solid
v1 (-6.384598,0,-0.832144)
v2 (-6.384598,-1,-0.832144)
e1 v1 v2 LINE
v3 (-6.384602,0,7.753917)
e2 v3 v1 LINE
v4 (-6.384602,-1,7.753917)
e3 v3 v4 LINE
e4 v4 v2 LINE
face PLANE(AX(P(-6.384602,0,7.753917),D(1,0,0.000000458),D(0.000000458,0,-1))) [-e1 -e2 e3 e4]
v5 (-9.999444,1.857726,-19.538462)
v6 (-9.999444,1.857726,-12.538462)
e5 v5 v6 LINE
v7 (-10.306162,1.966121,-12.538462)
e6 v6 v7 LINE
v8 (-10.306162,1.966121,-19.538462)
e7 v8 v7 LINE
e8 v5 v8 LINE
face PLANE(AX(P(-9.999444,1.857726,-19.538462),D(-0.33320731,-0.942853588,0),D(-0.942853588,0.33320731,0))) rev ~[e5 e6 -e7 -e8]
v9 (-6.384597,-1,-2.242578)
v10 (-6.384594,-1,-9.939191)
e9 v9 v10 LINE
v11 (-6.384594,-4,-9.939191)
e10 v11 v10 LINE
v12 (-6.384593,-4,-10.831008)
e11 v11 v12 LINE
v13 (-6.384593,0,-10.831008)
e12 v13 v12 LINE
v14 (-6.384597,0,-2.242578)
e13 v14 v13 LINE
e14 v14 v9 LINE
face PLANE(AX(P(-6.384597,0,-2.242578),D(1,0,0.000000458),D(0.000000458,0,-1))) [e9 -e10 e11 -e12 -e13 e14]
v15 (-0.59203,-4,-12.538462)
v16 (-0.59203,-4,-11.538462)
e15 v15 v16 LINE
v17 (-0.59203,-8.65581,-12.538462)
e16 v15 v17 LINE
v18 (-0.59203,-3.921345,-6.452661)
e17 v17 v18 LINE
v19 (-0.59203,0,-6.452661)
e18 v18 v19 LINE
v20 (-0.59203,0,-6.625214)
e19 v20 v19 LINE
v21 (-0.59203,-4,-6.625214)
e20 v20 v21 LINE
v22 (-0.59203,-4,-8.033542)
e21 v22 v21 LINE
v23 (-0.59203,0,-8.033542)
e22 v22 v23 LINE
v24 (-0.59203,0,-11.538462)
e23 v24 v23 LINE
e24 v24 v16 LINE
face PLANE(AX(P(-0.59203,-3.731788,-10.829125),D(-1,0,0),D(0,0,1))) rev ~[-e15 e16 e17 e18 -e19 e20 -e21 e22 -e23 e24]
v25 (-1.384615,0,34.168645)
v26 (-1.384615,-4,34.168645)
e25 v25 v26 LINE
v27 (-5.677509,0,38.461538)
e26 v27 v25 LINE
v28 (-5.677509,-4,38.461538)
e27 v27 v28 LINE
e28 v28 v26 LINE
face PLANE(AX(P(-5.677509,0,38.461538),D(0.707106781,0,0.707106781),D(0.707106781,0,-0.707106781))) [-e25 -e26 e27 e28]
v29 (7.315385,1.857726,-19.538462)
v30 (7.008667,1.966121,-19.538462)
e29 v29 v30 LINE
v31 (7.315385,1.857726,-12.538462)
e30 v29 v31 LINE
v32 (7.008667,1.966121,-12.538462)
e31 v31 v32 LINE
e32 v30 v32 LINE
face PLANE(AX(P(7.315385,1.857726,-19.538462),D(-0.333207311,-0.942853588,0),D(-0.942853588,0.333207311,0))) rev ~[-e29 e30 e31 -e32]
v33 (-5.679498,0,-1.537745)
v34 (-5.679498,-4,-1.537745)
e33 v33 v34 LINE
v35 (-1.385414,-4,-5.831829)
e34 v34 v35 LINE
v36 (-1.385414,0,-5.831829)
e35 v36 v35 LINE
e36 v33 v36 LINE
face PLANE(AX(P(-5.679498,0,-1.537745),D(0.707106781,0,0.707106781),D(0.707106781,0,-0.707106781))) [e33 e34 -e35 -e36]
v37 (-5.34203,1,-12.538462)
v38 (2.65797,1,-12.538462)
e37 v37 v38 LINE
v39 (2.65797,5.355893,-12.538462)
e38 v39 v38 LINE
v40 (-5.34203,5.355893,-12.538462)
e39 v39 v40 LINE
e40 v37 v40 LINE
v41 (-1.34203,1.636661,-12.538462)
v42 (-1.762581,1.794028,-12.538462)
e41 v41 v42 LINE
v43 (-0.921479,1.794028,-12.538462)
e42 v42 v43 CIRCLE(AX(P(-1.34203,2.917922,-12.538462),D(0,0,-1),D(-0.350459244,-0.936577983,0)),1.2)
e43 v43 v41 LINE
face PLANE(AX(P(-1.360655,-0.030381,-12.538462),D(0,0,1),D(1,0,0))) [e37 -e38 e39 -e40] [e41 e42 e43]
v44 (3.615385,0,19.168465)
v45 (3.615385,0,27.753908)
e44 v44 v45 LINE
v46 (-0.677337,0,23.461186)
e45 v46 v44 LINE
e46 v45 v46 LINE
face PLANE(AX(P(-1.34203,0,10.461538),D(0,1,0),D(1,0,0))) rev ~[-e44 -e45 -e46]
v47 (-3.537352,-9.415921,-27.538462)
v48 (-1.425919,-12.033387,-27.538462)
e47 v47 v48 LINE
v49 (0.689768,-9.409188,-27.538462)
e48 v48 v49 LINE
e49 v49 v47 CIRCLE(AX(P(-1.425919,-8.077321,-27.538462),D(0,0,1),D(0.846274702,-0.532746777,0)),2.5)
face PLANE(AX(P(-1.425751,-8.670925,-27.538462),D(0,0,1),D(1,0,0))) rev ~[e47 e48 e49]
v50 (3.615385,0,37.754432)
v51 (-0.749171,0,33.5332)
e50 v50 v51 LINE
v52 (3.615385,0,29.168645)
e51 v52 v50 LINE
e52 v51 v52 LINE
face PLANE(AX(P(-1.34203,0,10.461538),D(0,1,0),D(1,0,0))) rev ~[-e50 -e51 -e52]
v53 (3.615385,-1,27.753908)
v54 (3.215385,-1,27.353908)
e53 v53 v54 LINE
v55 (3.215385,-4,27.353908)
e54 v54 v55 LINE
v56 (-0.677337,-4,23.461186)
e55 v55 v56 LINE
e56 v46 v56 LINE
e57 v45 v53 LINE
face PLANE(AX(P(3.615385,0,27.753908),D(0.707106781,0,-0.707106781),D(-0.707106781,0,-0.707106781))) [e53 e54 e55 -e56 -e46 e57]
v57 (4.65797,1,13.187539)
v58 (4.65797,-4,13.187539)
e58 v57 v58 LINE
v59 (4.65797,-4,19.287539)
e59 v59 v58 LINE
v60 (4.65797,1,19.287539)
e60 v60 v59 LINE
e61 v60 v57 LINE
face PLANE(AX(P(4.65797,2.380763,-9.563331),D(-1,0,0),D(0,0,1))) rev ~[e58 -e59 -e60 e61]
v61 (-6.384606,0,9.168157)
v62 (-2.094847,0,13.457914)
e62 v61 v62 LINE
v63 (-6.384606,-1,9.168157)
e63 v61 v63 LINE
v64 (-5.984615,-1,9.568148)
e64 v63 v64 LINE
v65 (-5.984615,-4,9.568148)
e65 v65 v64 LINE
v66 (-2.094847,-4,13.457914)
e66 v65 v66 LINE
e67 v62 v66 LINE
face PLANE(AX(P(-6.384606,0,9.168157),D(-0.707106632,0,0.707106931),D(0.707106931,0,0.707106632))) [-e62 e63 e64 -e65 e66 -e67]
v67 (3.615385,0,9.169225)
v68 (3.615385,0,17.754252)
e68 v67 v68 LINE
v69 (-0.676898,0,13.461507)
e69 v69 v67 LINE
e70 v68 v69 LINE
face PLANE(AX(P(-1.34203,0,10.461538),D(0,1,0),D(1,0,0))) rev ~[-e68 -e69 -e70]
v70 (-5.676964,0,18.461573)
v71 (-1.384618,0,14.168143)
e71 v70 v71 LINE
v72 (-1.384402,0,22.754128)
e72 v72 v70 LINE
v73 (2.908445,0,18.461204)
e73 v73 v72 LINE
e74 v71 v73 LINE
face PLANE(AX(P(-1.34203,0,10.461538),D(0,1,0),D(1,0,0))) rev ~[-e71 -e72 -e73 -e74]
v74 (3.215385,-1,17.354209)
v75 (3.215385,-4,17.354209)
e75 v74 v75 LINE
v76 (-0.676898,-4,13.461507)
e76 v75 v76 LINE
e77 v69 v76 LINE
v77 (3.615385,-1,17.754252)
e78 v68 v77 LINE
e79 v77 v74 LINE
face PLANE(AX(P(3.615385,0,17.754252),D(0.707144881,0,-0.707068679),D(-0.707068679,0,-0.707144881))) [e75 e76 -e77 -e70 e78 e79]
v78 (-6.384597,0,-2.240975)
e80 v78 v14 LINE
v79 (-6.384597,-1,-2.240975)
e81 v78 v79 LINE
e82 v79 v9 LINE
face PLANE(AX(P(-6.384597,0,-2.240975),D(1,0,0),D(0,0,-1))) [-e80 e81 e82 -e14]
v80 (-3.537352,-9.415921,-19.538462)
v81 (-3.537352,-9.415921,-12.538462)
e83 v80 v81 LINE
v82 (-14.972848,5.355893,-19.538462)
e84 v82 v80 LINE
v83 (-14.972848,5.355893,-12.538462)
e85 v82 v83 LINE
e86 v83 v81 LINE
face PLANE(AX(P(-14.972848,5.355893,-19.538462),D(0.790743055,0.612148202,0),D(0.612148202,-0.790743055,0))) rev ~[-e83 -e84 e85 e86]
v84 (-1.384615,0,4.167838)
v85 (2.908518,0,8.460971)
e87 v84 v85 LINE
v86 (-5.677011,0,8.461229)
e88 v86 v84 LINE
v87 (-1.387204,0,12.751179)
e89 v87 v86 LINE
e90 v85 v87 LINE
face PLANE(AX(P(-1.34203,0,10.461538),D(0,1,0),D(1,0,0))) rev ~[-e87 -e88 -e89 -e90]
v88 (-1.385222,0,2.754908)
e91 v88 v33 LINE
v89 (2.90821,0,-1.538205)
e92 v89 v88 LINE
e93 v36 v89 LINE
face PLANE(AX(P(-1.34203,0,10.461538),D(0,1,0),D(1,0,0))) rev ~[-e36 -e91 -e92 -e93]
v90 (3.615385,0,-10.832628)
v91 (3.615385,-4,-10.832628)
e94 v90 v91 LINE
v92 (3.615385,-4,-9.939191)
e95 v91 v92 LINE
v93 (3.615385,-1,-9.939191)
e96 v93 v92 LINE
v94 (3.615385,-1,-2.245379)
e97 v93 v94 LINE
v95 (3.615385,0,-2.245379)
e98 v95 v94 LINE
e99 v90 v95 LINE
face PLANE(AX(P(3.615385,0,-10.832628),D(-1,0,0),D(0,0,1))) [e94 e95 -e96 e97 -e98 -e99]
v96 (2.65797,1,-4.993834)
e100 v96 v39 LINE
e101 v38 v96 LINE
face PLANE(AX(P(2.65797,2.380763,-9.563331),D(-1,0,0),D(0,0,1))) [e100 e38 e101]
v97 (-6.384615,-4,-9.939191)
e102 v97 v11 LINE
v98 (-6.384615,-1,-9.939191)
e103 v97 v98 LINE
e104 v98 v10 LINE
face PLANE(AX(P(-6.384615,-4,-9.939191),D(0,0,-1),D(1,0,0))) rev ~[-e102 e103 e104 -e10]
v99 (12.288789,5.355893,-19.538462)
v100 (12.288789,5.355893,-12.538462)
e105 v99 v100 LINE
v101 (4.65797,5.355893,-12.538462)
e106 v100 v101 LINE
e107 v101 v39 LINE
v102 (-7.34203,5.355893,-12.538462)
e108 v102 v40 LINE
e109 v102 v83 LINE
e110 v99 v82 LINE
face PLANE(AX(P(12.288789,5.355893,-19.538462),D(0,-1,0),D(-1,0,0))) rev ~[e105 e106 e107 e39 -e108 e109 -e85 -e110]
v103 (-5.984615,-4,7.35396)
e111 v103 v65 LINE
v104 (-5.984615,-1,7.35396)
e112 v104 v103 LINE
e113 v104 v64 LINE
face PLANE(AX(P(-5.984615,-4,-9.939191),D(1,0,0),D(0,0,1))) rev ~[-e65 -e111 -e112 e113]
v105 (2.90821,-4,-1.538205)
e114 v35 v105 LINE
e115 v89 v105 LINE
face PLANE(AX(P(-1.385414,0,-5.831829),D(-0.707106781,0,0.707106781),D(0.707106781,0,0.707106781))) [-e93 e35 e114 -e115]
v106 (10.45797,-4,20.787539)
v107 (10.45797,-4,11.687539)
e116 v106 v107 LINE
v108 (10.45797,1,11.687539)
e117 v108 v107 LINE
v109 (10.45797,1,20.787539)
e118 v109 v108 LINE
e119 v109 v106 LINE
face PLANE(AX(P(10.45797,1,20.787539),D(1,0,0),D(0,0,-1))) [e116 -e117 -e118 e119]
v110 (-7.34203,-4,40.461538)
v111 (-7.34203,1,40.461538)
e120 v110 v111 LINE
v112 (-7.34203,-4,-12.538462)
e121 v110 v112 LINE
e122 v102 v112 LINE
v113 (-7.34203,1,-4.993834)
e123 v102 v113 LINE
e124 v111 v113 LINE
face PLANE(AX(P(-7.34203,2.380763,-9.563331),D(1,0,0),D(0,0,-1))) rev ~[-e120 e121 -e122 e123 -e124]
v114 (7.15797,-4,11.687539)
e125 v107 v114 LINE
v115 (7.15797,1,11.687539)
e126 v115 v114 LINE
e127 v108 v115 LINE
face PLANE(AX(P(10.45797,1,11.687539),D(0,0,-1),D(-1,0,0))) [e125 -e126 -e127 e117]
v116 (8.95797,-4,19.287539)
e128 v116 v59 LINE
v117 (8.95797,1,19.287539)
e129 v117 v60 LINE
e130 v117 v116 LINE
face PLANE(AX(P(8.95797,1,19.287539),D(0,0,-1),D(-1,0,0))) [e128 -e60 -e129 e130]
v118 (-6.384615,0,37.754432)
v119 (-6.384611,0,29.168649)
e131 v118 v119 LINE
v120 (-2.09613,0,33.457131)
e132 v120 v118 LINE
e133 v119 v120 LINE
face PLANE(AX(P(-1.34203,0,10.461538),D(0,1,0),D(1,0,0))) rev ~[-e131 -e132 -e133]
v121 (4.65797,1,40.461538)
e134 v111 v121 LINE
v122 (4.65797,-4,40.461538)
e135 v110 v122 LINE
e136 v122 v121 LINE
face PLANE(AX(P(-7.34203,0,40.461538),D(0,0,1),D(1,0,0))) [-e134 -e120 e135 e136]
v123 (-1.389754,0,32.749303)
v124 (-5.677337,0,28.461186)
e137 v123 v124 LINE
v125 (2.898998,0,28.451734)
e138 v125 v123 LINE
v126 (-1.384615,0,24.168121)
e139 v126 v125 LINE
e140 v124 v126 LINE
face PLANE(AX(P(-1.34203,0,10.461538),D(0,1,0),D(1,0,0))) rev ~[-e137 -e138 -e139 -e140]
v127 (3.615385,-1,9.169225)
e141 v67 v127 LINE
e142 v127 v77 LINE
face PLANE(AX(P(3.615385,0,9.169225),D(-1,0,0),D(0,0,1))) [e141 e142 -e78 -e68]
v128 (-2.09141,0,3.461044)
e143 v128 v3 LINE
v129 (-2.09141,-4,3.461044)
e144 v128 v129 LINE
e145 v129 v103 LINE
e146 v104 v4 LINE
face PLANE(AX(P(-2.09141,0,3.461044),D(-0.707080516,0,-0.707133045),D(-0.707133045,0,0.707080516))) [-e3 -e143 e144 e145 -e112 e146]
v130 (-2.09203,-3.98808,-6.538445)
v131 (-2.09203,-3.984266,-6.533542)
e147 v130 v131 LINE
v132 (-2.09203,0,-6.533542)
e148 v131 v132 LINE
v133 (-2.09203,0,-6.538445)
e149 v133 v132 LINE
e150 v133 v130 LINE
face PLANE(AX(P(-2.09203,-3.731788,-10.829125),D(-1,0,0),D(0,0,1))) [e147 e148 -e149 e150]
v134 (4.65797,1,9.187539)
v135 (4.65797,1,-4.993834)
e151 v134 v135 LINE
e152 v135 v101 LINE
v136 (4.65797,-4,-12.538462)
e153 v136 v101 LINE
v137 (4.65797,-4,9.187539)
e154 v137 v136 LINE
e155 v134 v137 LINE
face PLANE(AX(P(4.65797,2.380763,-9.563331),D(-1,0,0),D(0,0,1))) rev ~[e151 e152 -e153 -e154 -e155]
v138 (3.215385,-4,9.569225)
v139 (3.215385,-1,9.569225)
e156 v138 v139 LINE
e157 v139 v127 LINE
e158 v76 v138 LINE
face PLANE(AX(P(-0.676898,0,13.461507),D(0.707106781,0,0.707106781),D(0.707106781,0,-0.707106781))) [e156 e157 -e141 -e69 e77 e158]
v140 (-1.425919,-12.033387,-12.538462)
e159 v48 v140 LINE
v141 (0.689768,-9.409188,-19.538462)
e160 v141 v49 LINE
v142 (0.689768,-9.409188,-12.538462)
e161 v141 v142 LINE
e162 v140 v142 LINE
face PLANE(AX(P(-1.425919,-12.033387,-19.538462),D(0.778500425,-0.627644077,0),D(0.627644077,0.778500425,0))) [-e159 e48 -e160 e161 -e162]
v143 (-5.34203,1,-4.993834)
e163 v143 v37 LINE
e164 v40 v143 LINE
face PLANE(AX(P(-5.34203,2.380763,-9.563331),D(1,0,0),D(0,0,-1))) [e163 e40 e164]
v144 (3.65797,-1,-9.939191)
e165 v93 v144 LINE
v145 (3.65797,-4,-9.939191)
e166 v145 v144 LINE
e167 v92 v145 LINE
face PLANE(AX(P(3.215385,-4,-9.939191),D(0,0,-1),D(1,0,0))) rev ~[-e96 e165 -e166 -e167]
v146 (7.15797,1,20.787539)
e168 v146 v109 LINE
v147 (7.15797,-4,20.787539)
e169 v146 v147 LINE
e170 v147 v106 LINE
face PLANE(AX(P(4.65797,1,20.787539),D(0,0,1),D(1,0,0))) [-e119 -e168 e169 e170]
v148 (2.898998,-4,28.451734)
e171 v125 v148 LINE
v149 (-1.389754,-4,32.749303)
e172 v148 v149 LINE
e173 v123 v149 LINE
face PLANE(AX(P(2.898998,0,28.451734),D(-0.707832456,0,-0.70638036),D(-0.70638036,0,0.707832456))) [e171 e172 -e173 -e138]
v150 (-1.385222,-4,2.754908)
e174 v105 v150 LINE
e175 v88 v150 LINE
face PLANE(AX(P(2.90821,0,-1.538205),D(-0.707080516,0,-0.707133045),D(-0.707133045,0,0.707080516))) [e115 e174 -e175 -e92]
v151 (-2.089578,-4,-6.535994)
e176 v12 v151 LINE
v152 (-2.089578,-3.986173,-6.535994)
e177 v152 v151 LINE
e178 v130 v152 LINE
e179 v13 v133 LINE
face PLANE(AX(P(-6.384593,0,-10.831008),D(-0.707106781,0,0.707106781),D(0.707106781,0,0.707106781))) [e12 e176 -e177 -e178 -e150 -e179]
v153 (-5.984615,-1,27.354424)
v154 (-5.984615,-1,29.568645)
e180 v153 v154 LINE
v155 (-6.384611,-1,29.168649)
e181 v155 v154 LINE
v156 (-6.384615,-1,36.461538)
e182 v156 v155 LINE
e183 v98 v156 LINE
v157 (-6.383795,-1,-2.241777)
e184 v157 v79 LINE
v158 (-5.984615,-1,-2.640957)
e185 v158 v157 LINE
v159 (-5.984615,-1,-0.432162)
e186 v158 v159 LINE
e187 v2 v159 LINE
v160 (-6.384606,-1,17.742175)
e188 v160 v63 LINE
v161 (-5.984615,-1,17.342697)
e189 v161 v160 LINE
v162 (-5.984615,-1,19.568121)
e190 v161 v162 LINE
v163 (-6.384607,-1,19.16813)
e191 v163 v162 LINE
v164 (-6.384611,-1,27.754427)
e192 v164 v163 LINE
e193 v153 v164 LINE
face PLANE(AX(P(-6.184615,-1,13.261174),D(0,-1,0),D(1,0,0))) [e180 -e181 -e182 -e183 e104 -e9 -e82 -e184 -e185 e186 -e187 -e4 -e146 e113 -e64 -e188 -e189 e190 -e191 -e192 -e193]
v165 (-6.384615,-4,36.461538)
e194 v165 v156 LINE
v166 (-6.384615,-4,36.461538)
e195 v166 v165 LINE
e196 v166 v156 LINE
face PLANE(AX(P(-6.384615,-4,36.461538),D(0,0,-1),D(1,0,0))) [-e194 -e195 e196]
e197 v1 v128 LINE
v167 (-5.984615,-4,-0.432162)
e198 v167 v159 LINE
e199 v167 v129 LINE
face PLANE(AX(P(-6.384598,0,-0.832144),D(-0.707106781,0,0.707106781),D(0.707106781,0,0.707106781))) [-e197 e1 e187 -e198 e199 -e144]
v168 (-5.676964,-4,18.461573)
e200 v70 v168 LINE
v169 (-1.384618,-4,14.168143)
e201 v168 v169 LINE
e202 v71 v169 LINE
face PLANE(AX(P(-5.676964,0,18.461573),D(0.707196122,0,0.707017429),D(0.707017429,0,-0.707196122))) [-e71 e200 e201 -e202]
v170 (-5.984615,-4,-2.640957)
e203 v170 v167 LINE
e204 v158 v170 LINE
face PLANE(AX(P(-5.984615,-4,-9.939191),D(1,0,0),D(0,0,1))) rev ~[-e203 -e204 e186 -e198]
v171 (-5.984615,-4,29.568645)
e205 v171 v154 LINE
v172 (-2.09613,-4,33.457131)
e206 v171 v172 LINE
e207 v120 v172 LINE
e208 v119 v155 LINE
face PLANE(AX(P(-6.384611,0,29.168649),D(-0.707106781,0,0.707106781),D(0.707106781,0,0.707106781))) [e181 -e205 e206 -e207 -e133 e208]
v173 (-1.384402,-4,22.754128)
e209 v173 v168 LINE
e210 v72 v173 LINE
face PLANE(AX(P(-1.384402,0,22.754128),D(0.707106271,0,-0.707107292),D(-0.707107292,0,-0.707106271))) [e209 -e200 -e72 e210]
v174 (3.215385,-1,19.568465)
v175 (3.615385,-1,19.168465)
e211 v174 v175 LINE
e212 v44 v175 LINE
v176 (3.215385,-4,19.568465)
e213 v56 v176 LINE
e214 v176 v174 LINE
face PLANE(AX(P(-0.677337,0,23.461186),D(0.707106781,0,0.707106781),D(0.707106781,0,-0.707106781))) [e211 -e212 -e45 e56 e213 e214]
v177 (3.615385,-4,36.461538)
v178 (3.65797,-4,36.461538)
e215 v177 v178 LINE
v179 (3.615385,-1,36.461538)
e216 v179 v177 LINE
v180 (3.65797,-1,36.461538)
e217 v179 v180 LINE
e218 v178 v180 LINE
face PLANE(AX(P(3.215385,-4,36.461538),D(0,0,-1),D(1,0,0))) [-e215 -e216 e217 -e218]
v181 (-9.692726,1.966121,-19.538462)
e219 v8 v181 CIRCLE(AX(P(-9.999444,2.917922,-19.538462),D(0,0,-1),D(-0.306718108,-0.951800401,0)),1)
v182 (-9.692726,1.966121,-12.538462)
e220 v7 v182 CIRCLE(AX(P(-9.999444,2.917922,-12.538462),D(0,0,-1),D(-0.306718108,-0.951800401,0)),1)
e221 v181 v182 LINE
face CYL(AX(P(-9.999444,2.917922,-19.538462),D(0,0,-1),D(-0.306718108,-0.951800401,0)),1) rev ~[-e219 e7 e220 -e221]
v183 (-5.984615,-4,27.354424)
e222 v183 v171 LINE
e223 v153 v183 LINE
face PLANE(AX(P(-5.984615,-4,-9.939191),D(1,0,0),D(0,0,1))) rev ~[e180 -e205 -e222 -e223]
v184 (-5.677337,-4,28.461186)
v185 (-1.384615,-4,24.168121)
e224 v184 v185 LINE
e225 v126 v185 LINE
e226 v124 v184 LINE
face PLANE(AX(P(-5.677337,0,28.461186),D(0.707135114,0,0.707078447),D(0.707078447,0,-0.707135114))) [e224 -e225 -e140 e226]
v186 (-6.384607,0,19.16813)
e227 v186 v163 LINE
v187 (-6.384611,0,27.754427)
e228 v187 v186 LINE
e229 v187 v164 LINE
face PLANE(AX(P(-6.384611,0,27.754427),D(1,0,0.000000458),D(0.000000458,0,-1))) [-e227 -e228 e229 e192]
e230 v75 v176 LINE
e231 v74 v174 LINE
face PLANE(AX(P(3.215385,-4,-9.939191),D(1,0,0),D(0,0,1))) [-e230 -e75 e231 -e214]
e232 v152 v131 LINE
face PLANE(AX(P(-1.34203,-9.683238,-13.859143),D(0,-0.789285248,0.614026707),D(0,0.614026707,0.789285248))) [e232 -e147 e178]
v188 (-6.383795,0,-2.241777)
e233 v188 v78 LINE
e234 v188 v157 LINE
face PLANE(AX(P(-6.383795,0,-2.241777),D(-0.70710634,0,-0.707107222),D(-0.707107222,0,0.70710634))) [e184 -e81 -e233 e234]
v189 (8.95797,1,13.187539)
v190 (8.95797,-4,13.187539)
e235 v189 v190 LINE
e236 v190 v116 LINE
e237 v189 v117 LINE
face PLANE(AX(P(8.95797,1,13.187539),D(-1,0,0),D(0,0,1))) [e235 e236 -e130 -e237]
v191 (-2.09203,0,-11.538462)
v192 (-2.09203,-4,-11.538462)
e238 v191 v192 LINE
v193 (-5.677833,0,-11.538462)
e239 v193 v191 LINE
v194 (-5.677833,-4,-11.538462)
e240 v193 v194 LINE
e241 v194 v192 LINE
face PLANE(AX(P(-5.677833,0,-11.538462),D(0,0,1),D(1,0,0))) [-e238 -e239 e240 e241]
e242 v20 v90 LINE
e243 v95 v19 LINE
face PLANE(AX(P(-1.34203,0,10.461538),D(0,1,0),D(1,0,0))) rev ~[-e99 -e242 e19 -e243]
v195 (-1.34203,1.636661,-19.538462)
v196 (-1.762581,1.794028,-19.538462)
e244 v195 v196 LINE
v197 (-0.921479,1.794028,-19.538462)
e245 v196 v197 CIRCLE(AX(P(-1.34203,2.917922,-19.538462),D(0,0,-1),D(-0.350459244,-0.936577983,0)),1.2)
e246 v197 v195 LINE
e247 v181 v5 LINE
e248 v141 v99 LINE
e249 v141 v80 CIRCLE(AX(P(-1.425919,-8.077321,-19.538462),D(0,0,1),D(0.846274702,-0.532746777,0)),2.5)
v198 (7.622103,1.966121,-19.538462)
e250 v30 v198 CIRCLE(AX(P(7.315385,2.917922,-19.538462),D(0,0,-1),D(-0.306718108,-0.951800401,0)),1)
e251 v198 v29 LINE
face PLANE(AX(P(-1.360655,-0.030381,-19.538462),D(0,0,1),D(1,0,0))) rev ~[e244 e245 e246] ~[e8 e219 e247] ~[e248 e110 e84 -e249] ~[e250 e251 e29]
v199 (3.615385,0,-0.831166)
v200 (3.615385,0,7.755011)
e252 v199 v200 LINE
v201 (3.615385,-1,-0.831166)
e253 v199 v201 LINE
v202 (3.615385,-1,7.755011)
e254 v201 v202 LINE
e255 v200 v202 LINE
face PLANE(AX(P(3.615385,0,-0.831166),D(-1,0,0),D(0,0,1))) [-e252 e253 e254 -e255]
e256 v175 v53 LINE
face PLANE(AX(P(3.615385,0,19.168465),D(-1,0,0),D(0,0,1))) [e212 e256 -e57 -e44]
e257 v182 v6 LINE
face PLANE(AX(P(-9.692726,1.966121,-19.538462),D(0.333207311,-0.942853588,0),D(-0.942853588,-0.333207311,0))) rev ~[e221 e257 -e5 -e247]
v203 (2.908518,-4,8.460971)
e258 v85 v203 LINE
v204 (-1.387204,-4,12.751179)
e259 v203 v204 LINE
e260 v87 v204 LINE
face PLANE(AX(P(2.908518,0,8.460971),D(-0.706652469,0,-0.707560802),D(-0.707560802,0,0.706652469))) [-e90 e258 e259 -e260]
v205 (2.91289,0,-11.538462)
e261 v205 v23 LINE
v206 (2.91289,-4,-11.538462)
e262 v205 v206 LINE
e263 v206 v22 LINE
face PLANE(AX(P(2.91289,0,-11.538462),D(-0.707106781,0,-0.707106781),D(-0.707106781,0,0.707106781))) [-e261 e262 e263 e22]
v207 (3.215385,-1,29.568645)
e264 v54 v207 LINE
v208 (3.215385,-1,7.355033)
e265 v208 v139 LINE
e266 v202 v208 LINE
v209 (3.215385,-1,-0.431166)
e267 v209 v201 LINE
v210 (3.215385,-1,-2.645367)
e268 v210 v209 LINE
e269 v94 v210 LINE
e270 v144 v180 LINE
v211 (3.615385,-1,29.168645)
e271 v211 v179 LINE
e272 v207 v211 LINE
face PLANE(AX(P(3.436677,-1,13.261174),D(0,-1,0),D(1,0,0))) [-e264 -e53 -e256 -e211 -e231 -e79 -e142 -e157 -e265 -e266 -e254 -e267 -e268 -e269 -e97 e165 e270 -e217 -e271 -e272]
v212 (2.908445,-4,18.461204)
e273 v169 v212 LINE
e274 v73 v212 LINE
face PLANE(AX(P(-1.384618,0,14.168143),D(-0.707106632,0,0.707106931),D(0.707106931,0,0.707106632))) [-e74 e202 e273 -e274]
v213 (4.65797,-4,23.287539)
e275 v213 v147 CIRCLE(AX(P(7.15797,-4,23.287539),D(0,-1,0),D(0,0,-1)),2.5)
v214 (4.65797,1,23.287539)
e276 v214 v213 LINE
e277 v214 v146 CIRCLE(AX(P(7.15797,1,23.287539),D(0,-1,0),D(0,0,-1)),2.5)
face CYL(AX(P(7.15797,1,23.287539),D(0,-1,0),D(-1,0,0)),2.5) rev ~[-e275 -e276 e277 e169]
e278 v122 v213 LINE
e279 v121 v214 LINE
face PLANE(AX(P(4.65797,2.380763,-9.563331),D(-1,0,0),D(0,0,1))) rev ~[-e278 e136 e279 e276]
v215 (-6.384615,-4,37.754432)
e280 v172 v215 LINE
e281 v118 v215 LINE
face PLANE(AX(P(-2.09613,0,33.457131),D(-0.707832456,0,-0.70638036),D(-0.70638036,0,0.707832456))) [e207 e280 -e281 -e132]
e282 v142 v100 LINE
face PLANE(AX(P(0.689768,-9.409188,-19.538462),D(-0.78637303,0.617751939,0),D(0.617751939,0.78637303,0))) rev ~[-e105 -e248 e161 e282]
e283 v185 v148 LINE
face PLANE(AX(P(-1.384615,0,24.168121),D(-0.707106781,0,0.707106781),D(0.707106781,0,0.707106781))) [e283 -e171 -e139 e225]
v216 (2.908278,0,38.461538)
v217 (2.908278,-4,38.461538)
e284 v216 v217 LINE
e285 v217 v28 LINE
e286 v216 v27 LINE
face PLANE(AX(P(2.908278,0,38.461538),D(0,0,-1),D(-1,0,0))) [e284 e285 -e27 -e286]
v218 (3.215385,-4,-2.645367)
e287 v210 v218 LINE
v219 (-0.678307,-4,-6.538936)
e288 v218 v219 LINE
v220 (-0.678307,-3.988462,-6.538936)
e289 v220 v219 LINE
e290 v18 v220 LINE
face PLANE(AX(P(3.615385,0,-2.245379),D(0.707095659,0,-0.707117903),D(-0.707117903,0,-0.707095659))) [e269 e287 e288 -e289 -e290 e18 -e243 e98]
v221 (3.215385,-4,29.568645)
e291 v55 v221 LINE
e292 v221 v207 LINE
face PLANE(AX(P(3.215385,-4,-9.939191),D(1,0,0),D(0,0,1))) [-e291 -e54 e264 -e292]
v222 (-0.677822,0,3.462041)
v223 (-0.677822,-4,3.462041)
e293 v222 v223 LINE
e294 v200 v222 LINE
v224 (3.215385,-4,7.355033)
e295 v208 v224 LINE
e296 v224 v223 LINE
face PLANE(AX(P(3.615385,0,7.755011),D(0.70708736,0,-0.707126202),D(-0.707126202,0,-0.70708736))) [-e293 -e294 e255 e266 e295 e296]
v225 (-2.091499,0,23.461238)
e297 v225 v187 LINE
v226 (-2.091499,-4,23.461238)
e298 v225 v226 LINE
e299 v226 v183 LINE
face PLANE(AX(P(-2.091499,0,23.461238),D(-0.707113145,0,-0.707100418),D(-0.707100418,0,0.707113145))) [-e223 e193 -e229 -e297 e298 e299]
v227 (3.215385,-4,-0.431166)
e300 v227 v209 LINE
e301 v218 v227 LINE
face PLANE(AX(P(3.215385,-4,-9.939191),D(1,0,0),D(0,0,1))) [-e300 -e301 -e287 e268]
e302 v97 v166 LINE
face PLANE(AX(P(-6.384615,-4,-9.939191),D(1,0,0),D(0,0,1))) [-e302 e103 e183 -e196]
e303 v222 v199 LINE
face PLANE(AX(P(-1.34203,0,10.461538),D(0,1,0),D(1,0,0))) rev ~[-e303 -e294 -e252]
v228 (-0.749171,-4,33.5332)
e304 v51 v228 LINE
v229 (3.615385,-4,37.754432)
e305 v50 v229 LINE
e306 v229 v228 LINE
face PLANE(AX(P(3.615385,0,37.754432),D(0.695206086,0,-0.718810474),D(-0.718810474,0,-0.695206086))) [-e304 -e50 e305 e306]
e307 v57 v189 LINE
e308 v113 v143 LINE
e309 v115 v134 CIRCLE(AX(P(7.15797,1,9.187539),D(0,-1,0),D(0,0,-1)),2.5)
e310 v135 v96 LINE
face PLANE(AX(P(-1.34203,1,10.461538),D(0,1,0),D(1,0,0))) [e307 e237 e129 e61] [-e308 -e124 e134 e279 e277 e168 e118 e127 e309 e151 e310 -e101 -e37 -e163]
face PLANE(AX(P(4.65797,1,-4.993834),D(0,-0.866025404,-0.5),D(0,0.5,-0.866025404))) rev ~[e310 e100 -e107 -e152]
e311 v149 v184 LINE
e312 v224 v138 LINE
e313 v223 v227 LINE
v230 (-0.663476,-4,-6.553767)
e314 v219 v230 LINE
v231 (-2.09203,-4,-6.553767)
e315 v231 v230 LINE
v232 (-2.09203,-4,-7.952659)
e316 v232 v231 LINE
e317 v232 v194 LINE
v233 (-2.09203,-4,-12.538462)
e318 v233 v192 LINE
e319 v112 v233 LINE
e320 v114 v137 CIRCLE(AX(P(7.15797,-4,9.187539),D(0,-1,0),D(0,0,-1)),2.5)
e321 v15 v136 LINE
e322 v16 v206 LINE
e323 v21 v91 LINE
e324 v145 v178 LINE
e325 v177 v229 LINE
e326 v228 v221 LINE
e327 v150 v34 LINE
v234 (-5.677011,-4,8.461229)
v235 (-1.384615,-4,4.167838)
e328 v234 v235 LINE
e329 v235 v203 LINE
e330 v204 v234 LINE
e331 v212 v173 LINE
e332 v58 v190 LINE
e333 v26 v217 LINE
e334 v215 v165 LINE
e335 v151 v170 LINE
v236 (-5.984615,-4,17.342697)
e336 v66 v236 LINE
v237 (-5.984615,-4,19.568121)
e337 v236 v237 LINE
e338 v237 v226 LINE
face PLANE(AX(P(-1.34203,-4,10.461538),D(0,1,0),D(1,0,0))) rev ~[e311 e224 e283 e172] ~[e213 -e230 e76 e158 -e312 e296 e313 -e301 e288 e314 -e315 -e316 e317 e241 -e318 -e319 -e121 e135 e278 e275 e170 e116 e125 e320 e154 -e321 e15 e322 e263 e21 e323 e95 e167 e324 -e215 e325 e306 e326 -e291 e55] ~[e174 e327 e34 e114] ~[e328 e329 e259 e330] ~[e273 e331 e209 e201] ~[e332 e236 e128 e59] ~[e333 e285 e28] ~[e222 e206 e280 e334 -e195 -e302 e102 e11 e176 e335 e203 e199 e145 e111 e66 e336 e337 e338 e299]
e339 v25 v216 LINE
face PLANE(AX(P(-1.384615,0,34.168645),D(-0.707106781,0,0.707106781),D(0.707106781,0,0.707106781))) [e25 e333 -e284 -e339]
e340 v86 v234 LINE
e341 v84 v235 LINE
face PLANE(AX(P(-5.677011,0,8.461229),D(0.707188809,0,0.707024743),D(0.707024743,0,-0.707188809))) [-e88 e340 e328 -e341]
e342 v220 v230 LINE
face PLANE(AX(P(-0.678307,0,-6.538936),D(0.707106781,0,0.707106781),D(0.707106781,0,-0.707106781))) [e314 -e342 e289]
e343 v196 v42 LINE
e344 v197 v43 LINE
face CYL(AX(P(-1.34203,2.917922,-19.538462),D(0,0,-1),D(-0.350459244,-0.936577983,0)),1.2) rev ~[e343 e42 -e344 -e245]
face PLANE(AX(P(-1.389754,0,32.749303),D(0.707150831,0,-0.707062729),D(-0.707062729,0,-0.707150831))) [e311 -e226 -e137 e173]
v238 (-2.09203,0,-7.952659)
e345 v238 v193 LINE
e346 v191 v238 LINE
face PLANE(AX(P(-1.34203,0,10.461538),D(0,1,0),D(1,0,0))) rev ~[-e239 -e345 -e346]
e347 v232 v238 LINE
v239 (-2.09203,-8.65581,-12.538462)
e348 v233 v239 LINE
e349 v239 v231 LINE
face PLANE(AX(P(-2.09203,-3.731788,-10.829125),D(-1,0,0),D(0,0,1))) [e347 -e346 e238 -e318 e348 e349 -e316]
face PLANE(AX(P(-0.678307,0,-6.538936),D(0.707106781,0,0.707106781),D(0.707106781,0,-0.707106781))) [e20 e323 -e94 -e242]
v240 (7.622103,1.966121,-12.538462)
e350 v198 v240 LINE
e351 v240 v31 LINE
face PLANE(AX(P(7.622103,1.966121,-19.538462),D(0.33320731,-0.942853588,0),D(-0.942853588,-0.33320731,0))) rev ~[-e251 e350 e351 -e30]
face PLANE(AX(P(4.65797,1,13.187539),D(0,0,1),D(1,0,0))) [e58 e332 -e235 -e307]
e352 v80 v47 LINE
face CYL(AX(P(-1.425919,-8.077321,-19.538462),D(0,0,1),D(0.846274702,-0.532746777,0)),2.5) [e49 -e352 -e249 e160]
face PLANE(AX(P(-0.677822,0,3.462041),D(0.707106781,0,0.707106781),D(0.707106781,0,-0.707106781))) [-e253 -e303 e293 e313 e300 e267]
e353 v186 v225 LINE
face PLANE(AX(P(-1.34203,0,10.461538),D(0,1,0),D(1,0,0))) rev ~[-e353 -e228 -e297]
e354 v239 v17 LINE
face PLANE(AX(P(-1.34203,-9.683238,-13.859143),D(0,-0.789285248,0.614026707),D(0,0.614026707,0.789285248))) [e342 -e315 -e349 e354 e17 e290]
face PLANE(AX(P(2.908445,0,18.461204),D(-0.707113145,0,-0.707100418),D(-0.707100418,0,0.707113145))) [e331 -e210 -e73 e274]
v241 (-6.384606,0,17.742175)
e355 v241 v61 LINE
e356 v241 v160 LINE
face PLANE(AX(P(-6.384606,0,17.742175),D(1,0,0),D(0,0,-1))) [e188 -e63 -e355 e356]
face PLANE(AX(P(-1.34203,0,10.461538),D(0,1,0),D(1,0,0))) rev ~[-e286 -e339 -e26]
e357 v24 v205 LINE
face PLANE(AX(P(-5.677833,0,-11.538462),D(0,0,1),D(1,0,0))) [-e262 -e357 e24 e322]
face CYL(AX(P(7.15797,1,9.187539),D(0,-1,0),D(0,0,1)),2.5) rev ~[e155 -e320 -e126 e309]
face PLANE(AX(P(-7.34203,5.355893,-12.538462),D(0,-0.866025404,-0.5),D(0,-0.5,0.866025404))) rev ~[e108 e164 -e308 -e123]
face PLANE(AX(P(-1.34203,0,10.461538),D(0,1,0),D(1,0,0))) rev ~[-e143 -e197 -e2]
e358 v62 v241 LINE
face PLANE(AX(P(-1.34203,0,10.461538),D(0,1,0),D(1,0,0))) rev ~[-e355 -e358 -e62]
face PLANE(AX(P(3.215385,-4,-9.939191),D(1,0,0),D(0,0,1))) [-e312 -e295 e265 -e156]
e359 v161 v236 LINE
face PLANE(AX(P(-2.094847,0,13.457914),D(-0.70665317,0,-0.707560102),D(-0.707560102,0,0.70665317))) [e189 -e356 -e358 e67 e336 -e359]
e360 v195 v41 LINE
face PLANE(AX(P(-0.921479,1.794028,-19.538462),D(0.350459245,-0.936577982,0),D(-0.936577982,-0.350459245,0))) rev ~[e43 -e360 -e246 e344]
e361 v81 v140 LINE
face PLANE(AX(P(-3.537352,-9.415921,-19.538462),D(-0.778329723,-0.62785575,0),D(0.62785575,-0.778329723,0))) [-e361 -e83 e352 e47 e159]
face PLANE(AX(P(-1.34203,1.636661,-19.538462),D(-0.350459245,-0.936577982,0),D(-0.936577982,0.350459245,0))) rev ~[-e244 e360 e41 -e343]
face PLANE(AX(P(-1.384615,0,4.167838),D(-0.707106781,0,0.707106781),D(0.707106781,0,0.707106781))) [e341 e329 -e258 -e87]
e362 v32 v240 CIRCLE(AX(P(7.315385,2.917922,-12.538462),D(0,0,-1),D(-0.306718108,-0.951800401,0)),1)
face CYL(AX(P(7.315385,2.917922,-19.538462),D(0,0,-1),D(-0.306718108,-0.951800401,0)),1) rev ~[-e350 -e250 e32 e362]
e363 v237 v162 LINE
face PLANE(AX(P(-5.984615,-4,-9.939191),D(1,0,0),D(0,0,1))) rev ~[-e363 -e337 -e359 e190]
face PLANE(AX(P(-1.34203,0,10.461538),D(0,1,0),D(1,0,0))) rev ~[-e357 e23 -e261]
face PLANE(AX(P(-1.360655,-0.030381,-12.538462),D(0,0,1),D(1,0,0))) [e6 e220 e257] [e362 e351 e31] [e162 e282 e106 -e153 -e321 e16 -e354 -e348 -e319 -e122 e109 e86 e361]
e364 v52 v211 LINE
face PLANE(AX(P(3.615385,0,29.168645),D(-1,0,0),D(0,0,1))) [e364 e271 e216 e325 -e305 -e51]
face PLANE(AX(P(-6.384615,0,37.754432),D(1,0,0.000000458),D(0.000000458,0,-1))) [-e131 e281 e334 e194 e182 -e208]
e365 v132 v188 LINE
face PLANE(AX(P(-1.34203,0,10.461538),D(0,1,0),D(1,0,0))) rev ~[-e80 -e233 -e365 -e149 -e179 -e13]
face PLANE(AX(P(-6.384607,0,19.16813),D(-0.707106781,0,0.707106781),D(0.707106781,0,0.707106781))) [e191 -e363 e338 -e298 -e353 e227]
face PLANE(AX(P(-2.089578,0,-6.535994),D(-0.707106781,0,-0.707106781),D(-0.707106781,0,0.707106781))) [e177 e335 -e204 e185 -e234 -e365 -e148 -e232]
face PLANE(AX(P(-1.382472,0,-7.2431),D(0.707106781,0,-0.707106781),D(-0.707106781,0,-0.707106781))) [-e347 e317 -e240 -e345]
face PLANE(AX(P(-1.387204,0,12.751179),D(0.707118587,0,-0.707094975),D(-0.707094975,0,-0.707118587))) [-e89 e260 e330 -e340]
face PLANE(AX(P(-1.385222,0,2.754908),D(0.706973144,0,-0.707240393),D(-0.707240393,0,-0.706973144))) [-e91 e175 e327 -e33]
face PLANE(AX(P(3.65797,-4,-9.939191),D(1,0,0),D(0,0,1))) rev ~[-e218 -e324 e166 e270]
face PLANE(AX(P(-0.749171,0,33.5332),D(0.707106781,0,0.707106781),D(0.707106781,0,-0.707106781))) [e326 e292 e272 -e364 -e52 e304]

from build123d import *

# Parameters (mm, degrees)
SKETCH1_W            = 12
SKETCH1_H            = 60
BOSS_EXTRUDE1_DEPTH  = 1
SKETCH4_W            = 12
SKETCH4_H            = 60
BOSS_EXTRUDE5_DEPTH  = 4
SKETCH3_W            = 0.442585723
SKETCH3_H            = 46.400729484
SKETCH3_W_2          = 0.4
CUT_EXTRUDE1_DEPTH   = 3
BOSS_EXTRUDE6_DEPTH  = 7
BOSS_EXTRUDE11_DEPTH = 8
BOSS_EXTRUDE12_DEPTH = 2
BOSS_EXTRUDE13_DEPTH = 0.75
BOSS_EXTRUDE15_DEPTH = 2
BOSS_EXTRUDE16_DEPTH = 5
FILLET1_R            = 2.5
FILLET2_R            = 2.5


with BuildPart() as part:
    # Sketch1 → Boss-Extrude1 (new body)
    with BuildSketch(Plane(origin=(0, 0, 0), x_dir=(1, 0, 0), z_dir=(0, 1, 0))):
        with Locations((-1.342029662, -10.461538462)):
            Rectangle(SKETCH1_W, SKETCH1_H)
    extrude(amount=BOSS_EXTRUDE1_DEPTH)

    # Sketch4 → Boss-Extrude5 (add)
    with BuildSketch(Plane(origin=(0, 0, 0), x_dir=(1, 0, 0), z_dir=(0, 1, 0))):
        with Locations((-1.342029662, -10.461538462)):
            Rectangle(SKETCH4_W, SKETCH4_H)
        Polygon((-2.096130055, -33.457130572), (-6.384615385, -37.75443168), (-6.384611455, -29.168649172), align=None, mode=Mode.SUBTRACT)
        Polygon((2.908277834, -38.461538462), (-5.677508603, -38.461538462), (-1.384615385, -34.168645243), align=None, mode=Mode.SUBTRACT)
        Polygon((-1.38975443, -32.749302861), (-5.677336591, -28.461186458), (-1.384615385, -24.168121227), (2.898997747, -28.451734358), align=None, mode=Mode.SUBTRACT)
        Polygon((-2.091498793, -23.461237818), (-6.384610808, -27.754427103), (-6.384606877, -19.168129734), align=None, mode=Mode.SUBTRACT)
        Polygon((-1.384401984, -22.754128282), (-5.676963509, -18.461572954), (-1.384618257, -14.16814285), (2.90844487, -18.461204162), align=None, mode=Mode.SUBTRACT)
        Polygon((-2.094846949, -13.457914458), (-6.38460623, -17.742175237), (-6.38460623, -9.168156991), align=None, mode=Mode.SUBTRACT)
        Polygon((3.615384615, -29.168645243), (3.615384615, -37.75443168), (-0.749170508, -33.533200366), align=None, mode=Mode.SUBTRACT)
        Polygon((3.615384615, -19.168465252), (3.615384615, -27.753907665), (-0.677336591, -23.461186458), align=None, mode=Mode.SUBTRACT)
        Polygon((3.615384615, -17.754251693), (-0.676897524, -13.461506969), (3.615384615, -9.169224829), align=None, mode=Mode.SUBTRACT)
        Polygon((-6.384597723, 0.832144172), (-2.091409836, -3.461043715), (-6.384601653, -7.753916614), align=None, mode=Mode.SUBTRACT)
        Polygon((2.908517821, -8.460971372), (-1.387204346, -12.751178894), (-5.677010576, -8.461229413), (-1.384615385, -4.167838166), align=None, mode=Mode.SUBTRACT)
        Polygon((-1.385221722, -2.75490806), (-5.679497842, 1.537745361), (-1.38541394, 5.831829263), (2.908210299, 1.538205024), align=None, mode=Mode.SUBTRACT)
        Polygon((-2.089578329, 6.535993652), (-6.3837953, 2.241776681), (-6.384597078, 2.240974904), (-6.384597078, 2.242578156), (-6.384593146, 10.83100847), align=None, mode=Mode.SUBTRACT)
        Polygon((-5.677832652, 11.538461538), (2.912889557, 11.538461538), (-1.382471548, 7.243100433), align=None, mode=Mode.SUBTRACT)
        Polygon((3.615384615, -7.755011267), (-0.677821818, -3.462040655), (3.615384615, 0.831165778), align=None, mode=Mode.SUBTRACT)
        Polygon((3.615384615, 2.245379341), (-0.678307159, 6.538936044), (3.615384615, 10.832627818), align=None, mode=Mode.SUBTRACT)
    extrude(amount=-BOSS_EXTRUDE5_DEPTH)

    # Sketch3 → Cut-Extrude1 (cut)
    with BuildSketch(Plane.XZ.offset(4)):
        with Locations((3.436677476, 13.26117372)):
            Rectangle(SKETCH3_W, SKETCH3_H)
        with Locations((-6.184615385, 13.26117372)):
            Rectangle(SKETCH3_W_2, SKETCH3_H)
    extrude(amount=-CUT_EXTRUDE1_DEPTH, mode=Mode.SUBTRACT)

    # Sketch5 → Boss-Extrude6 (add)
    with BuildSketch(Plane(origin=(0, 0, -19.538461538), x_dir=(-1, 0, 0), z_dir=(0, 0, -1))):
        Polygon((-12.288789064, 5.355892869), (14.972848388, 5.355892869), (3.537352374, -9.415920613), (1.425918842, -12.033387248), (-0.689767913, -9.409188123), align=None)
        with BuildLine():
            Line((9.692725832, 1.966121199), (9.999443939, 1.857726092))
            Line((9.999443939, 1.857726092), (10.306162047, 1.966121199))
            ThreePointArc((10.306162047, 1.966121199), (9.999443939, 3.917921599), (9.692725832, 1.966121199))
        make_face(mode=Mode.SUBTRACT)
        with BuildLine():
            Line((-7.622102723, 1.966121199), (-7.315384615, 1.857726092))
            Line((-7.315384615, 1.857726092), (-7.008666508, 1.966121199))
            ThreePointArc((-7.008666508, 1.966121199), (-7.315384615, 3.917921599), (-7.622102723, 1.966121199))
        make_face(mode=Mode.SUBTRACT)
        with BuildLine():
            Line((0.921478569, 1.79402802), (1.342029662, 1.636661499))
            Line((1.342029662, 1.636661499), (1.762580755, 1.79402802))
            ThreePointArc((1.762580755, 1.79402802), (1.342029662, 4.117921599), (0.921478569, 1.79402802))
        make_face(mode=Mode.SUBTRACT)
    extrude(amount=-BOSS_EXTRUDE6_DEPTH)

    # Sketch5<3> → Boss-Extrude11 (add)
    with BuildSketch(Plane(origin=(0, 0, -19.538461538), x_dir=(-1, 0, 0), z_dir=(0, 0, -1))):
        with BuildLine():
            Line((3.537352374, -9.415920613), (1.425918842, -12.033387248))
            Line((1.425918842, -12.033387248), (-0.689767913, -9.409188123))
            ThreePointArc((-0.689767913, -9.409188123), (1.429900561, -5.57732435), (3.537352374, -9.415920613))
        make_face()
    extrude(amount=BOSS_EXTRUDE11_DEPTH)

    # Sketch11 → Boss-Extrude12 (add)
    with BuildSketch(Plane.ZY.offset(7.342029662)):
        Polygon((-12.538461538, 5.355892869), (-4.993833778, 1), (-12.538461538, 1), align=None)
    extrude(amount=-BOSS_EXTRUDE12_DEPTH)

    # Sketch12 → Boss-Extrude13 (add, symmetric)
    with BuildSketch(Plane.ZY.offset(1.342029662)):
        Polygon((-13.859142787, 0.316720052), (-13.859142787, -4.418628297), (-13.859142787, -9.68323793), (-6.410996577, -3.888931374), (-6.410996577, 0.316720052), align=None)
    extrude(amount=BOSS_EXTRUDE13_DEPTH, both=True)

    # Sketch14 → Boss-Extrude15 (add)
    with BuildSketch(Plane(origin=(4.657970338, 0, 0), x_dir=(0, 0, -1), z_dir=(1, 0, 0))):
        Polygon((4.993833778, 1), (12.538461538, 5.355892869), (12.538461538, 1), align=None)
    extrude(amount=-BOSS_EXTRUDE15_DEPTH)

    # Sketch15 → Boss-Extrude16 (add)
    with BuildSketch(Plane(origin=(0, 1, 0), x_dir=(1, 0, 0), z_dir=(0, 1, 0))):
        Polygon((4.657970338, -11.687539089), (4.657970338, -13.187539089), (8.957970338, -13.187539089), (8.957970338, -19.287539089), (4.657970338, -19.287539089), (4.657970338, -20.787539089), (10.457970338, -20.787539089), (10.457970338, -11.687539089), align=None)
    extrude(amount=-BOSS_EXTRUDE16_DEPTH)

    # Fillet1
    fillet1_edges = [part.edges().sort_by_distance(p)[0] for p in [
        (4.657970338, -1.5, 20.787539089),
    ]]
    fillet(fillet1_edges, radius=FILLET1_R)

    # Fillet2
    fillet2_edges = [part.edges().sort_by_distance(p)[0] for p in [
        (4.657970338, -1.5, 11.687539089),
    ]]
    fillet(fillet2_edges, radius=FILLET2_R)


solid = part.part
